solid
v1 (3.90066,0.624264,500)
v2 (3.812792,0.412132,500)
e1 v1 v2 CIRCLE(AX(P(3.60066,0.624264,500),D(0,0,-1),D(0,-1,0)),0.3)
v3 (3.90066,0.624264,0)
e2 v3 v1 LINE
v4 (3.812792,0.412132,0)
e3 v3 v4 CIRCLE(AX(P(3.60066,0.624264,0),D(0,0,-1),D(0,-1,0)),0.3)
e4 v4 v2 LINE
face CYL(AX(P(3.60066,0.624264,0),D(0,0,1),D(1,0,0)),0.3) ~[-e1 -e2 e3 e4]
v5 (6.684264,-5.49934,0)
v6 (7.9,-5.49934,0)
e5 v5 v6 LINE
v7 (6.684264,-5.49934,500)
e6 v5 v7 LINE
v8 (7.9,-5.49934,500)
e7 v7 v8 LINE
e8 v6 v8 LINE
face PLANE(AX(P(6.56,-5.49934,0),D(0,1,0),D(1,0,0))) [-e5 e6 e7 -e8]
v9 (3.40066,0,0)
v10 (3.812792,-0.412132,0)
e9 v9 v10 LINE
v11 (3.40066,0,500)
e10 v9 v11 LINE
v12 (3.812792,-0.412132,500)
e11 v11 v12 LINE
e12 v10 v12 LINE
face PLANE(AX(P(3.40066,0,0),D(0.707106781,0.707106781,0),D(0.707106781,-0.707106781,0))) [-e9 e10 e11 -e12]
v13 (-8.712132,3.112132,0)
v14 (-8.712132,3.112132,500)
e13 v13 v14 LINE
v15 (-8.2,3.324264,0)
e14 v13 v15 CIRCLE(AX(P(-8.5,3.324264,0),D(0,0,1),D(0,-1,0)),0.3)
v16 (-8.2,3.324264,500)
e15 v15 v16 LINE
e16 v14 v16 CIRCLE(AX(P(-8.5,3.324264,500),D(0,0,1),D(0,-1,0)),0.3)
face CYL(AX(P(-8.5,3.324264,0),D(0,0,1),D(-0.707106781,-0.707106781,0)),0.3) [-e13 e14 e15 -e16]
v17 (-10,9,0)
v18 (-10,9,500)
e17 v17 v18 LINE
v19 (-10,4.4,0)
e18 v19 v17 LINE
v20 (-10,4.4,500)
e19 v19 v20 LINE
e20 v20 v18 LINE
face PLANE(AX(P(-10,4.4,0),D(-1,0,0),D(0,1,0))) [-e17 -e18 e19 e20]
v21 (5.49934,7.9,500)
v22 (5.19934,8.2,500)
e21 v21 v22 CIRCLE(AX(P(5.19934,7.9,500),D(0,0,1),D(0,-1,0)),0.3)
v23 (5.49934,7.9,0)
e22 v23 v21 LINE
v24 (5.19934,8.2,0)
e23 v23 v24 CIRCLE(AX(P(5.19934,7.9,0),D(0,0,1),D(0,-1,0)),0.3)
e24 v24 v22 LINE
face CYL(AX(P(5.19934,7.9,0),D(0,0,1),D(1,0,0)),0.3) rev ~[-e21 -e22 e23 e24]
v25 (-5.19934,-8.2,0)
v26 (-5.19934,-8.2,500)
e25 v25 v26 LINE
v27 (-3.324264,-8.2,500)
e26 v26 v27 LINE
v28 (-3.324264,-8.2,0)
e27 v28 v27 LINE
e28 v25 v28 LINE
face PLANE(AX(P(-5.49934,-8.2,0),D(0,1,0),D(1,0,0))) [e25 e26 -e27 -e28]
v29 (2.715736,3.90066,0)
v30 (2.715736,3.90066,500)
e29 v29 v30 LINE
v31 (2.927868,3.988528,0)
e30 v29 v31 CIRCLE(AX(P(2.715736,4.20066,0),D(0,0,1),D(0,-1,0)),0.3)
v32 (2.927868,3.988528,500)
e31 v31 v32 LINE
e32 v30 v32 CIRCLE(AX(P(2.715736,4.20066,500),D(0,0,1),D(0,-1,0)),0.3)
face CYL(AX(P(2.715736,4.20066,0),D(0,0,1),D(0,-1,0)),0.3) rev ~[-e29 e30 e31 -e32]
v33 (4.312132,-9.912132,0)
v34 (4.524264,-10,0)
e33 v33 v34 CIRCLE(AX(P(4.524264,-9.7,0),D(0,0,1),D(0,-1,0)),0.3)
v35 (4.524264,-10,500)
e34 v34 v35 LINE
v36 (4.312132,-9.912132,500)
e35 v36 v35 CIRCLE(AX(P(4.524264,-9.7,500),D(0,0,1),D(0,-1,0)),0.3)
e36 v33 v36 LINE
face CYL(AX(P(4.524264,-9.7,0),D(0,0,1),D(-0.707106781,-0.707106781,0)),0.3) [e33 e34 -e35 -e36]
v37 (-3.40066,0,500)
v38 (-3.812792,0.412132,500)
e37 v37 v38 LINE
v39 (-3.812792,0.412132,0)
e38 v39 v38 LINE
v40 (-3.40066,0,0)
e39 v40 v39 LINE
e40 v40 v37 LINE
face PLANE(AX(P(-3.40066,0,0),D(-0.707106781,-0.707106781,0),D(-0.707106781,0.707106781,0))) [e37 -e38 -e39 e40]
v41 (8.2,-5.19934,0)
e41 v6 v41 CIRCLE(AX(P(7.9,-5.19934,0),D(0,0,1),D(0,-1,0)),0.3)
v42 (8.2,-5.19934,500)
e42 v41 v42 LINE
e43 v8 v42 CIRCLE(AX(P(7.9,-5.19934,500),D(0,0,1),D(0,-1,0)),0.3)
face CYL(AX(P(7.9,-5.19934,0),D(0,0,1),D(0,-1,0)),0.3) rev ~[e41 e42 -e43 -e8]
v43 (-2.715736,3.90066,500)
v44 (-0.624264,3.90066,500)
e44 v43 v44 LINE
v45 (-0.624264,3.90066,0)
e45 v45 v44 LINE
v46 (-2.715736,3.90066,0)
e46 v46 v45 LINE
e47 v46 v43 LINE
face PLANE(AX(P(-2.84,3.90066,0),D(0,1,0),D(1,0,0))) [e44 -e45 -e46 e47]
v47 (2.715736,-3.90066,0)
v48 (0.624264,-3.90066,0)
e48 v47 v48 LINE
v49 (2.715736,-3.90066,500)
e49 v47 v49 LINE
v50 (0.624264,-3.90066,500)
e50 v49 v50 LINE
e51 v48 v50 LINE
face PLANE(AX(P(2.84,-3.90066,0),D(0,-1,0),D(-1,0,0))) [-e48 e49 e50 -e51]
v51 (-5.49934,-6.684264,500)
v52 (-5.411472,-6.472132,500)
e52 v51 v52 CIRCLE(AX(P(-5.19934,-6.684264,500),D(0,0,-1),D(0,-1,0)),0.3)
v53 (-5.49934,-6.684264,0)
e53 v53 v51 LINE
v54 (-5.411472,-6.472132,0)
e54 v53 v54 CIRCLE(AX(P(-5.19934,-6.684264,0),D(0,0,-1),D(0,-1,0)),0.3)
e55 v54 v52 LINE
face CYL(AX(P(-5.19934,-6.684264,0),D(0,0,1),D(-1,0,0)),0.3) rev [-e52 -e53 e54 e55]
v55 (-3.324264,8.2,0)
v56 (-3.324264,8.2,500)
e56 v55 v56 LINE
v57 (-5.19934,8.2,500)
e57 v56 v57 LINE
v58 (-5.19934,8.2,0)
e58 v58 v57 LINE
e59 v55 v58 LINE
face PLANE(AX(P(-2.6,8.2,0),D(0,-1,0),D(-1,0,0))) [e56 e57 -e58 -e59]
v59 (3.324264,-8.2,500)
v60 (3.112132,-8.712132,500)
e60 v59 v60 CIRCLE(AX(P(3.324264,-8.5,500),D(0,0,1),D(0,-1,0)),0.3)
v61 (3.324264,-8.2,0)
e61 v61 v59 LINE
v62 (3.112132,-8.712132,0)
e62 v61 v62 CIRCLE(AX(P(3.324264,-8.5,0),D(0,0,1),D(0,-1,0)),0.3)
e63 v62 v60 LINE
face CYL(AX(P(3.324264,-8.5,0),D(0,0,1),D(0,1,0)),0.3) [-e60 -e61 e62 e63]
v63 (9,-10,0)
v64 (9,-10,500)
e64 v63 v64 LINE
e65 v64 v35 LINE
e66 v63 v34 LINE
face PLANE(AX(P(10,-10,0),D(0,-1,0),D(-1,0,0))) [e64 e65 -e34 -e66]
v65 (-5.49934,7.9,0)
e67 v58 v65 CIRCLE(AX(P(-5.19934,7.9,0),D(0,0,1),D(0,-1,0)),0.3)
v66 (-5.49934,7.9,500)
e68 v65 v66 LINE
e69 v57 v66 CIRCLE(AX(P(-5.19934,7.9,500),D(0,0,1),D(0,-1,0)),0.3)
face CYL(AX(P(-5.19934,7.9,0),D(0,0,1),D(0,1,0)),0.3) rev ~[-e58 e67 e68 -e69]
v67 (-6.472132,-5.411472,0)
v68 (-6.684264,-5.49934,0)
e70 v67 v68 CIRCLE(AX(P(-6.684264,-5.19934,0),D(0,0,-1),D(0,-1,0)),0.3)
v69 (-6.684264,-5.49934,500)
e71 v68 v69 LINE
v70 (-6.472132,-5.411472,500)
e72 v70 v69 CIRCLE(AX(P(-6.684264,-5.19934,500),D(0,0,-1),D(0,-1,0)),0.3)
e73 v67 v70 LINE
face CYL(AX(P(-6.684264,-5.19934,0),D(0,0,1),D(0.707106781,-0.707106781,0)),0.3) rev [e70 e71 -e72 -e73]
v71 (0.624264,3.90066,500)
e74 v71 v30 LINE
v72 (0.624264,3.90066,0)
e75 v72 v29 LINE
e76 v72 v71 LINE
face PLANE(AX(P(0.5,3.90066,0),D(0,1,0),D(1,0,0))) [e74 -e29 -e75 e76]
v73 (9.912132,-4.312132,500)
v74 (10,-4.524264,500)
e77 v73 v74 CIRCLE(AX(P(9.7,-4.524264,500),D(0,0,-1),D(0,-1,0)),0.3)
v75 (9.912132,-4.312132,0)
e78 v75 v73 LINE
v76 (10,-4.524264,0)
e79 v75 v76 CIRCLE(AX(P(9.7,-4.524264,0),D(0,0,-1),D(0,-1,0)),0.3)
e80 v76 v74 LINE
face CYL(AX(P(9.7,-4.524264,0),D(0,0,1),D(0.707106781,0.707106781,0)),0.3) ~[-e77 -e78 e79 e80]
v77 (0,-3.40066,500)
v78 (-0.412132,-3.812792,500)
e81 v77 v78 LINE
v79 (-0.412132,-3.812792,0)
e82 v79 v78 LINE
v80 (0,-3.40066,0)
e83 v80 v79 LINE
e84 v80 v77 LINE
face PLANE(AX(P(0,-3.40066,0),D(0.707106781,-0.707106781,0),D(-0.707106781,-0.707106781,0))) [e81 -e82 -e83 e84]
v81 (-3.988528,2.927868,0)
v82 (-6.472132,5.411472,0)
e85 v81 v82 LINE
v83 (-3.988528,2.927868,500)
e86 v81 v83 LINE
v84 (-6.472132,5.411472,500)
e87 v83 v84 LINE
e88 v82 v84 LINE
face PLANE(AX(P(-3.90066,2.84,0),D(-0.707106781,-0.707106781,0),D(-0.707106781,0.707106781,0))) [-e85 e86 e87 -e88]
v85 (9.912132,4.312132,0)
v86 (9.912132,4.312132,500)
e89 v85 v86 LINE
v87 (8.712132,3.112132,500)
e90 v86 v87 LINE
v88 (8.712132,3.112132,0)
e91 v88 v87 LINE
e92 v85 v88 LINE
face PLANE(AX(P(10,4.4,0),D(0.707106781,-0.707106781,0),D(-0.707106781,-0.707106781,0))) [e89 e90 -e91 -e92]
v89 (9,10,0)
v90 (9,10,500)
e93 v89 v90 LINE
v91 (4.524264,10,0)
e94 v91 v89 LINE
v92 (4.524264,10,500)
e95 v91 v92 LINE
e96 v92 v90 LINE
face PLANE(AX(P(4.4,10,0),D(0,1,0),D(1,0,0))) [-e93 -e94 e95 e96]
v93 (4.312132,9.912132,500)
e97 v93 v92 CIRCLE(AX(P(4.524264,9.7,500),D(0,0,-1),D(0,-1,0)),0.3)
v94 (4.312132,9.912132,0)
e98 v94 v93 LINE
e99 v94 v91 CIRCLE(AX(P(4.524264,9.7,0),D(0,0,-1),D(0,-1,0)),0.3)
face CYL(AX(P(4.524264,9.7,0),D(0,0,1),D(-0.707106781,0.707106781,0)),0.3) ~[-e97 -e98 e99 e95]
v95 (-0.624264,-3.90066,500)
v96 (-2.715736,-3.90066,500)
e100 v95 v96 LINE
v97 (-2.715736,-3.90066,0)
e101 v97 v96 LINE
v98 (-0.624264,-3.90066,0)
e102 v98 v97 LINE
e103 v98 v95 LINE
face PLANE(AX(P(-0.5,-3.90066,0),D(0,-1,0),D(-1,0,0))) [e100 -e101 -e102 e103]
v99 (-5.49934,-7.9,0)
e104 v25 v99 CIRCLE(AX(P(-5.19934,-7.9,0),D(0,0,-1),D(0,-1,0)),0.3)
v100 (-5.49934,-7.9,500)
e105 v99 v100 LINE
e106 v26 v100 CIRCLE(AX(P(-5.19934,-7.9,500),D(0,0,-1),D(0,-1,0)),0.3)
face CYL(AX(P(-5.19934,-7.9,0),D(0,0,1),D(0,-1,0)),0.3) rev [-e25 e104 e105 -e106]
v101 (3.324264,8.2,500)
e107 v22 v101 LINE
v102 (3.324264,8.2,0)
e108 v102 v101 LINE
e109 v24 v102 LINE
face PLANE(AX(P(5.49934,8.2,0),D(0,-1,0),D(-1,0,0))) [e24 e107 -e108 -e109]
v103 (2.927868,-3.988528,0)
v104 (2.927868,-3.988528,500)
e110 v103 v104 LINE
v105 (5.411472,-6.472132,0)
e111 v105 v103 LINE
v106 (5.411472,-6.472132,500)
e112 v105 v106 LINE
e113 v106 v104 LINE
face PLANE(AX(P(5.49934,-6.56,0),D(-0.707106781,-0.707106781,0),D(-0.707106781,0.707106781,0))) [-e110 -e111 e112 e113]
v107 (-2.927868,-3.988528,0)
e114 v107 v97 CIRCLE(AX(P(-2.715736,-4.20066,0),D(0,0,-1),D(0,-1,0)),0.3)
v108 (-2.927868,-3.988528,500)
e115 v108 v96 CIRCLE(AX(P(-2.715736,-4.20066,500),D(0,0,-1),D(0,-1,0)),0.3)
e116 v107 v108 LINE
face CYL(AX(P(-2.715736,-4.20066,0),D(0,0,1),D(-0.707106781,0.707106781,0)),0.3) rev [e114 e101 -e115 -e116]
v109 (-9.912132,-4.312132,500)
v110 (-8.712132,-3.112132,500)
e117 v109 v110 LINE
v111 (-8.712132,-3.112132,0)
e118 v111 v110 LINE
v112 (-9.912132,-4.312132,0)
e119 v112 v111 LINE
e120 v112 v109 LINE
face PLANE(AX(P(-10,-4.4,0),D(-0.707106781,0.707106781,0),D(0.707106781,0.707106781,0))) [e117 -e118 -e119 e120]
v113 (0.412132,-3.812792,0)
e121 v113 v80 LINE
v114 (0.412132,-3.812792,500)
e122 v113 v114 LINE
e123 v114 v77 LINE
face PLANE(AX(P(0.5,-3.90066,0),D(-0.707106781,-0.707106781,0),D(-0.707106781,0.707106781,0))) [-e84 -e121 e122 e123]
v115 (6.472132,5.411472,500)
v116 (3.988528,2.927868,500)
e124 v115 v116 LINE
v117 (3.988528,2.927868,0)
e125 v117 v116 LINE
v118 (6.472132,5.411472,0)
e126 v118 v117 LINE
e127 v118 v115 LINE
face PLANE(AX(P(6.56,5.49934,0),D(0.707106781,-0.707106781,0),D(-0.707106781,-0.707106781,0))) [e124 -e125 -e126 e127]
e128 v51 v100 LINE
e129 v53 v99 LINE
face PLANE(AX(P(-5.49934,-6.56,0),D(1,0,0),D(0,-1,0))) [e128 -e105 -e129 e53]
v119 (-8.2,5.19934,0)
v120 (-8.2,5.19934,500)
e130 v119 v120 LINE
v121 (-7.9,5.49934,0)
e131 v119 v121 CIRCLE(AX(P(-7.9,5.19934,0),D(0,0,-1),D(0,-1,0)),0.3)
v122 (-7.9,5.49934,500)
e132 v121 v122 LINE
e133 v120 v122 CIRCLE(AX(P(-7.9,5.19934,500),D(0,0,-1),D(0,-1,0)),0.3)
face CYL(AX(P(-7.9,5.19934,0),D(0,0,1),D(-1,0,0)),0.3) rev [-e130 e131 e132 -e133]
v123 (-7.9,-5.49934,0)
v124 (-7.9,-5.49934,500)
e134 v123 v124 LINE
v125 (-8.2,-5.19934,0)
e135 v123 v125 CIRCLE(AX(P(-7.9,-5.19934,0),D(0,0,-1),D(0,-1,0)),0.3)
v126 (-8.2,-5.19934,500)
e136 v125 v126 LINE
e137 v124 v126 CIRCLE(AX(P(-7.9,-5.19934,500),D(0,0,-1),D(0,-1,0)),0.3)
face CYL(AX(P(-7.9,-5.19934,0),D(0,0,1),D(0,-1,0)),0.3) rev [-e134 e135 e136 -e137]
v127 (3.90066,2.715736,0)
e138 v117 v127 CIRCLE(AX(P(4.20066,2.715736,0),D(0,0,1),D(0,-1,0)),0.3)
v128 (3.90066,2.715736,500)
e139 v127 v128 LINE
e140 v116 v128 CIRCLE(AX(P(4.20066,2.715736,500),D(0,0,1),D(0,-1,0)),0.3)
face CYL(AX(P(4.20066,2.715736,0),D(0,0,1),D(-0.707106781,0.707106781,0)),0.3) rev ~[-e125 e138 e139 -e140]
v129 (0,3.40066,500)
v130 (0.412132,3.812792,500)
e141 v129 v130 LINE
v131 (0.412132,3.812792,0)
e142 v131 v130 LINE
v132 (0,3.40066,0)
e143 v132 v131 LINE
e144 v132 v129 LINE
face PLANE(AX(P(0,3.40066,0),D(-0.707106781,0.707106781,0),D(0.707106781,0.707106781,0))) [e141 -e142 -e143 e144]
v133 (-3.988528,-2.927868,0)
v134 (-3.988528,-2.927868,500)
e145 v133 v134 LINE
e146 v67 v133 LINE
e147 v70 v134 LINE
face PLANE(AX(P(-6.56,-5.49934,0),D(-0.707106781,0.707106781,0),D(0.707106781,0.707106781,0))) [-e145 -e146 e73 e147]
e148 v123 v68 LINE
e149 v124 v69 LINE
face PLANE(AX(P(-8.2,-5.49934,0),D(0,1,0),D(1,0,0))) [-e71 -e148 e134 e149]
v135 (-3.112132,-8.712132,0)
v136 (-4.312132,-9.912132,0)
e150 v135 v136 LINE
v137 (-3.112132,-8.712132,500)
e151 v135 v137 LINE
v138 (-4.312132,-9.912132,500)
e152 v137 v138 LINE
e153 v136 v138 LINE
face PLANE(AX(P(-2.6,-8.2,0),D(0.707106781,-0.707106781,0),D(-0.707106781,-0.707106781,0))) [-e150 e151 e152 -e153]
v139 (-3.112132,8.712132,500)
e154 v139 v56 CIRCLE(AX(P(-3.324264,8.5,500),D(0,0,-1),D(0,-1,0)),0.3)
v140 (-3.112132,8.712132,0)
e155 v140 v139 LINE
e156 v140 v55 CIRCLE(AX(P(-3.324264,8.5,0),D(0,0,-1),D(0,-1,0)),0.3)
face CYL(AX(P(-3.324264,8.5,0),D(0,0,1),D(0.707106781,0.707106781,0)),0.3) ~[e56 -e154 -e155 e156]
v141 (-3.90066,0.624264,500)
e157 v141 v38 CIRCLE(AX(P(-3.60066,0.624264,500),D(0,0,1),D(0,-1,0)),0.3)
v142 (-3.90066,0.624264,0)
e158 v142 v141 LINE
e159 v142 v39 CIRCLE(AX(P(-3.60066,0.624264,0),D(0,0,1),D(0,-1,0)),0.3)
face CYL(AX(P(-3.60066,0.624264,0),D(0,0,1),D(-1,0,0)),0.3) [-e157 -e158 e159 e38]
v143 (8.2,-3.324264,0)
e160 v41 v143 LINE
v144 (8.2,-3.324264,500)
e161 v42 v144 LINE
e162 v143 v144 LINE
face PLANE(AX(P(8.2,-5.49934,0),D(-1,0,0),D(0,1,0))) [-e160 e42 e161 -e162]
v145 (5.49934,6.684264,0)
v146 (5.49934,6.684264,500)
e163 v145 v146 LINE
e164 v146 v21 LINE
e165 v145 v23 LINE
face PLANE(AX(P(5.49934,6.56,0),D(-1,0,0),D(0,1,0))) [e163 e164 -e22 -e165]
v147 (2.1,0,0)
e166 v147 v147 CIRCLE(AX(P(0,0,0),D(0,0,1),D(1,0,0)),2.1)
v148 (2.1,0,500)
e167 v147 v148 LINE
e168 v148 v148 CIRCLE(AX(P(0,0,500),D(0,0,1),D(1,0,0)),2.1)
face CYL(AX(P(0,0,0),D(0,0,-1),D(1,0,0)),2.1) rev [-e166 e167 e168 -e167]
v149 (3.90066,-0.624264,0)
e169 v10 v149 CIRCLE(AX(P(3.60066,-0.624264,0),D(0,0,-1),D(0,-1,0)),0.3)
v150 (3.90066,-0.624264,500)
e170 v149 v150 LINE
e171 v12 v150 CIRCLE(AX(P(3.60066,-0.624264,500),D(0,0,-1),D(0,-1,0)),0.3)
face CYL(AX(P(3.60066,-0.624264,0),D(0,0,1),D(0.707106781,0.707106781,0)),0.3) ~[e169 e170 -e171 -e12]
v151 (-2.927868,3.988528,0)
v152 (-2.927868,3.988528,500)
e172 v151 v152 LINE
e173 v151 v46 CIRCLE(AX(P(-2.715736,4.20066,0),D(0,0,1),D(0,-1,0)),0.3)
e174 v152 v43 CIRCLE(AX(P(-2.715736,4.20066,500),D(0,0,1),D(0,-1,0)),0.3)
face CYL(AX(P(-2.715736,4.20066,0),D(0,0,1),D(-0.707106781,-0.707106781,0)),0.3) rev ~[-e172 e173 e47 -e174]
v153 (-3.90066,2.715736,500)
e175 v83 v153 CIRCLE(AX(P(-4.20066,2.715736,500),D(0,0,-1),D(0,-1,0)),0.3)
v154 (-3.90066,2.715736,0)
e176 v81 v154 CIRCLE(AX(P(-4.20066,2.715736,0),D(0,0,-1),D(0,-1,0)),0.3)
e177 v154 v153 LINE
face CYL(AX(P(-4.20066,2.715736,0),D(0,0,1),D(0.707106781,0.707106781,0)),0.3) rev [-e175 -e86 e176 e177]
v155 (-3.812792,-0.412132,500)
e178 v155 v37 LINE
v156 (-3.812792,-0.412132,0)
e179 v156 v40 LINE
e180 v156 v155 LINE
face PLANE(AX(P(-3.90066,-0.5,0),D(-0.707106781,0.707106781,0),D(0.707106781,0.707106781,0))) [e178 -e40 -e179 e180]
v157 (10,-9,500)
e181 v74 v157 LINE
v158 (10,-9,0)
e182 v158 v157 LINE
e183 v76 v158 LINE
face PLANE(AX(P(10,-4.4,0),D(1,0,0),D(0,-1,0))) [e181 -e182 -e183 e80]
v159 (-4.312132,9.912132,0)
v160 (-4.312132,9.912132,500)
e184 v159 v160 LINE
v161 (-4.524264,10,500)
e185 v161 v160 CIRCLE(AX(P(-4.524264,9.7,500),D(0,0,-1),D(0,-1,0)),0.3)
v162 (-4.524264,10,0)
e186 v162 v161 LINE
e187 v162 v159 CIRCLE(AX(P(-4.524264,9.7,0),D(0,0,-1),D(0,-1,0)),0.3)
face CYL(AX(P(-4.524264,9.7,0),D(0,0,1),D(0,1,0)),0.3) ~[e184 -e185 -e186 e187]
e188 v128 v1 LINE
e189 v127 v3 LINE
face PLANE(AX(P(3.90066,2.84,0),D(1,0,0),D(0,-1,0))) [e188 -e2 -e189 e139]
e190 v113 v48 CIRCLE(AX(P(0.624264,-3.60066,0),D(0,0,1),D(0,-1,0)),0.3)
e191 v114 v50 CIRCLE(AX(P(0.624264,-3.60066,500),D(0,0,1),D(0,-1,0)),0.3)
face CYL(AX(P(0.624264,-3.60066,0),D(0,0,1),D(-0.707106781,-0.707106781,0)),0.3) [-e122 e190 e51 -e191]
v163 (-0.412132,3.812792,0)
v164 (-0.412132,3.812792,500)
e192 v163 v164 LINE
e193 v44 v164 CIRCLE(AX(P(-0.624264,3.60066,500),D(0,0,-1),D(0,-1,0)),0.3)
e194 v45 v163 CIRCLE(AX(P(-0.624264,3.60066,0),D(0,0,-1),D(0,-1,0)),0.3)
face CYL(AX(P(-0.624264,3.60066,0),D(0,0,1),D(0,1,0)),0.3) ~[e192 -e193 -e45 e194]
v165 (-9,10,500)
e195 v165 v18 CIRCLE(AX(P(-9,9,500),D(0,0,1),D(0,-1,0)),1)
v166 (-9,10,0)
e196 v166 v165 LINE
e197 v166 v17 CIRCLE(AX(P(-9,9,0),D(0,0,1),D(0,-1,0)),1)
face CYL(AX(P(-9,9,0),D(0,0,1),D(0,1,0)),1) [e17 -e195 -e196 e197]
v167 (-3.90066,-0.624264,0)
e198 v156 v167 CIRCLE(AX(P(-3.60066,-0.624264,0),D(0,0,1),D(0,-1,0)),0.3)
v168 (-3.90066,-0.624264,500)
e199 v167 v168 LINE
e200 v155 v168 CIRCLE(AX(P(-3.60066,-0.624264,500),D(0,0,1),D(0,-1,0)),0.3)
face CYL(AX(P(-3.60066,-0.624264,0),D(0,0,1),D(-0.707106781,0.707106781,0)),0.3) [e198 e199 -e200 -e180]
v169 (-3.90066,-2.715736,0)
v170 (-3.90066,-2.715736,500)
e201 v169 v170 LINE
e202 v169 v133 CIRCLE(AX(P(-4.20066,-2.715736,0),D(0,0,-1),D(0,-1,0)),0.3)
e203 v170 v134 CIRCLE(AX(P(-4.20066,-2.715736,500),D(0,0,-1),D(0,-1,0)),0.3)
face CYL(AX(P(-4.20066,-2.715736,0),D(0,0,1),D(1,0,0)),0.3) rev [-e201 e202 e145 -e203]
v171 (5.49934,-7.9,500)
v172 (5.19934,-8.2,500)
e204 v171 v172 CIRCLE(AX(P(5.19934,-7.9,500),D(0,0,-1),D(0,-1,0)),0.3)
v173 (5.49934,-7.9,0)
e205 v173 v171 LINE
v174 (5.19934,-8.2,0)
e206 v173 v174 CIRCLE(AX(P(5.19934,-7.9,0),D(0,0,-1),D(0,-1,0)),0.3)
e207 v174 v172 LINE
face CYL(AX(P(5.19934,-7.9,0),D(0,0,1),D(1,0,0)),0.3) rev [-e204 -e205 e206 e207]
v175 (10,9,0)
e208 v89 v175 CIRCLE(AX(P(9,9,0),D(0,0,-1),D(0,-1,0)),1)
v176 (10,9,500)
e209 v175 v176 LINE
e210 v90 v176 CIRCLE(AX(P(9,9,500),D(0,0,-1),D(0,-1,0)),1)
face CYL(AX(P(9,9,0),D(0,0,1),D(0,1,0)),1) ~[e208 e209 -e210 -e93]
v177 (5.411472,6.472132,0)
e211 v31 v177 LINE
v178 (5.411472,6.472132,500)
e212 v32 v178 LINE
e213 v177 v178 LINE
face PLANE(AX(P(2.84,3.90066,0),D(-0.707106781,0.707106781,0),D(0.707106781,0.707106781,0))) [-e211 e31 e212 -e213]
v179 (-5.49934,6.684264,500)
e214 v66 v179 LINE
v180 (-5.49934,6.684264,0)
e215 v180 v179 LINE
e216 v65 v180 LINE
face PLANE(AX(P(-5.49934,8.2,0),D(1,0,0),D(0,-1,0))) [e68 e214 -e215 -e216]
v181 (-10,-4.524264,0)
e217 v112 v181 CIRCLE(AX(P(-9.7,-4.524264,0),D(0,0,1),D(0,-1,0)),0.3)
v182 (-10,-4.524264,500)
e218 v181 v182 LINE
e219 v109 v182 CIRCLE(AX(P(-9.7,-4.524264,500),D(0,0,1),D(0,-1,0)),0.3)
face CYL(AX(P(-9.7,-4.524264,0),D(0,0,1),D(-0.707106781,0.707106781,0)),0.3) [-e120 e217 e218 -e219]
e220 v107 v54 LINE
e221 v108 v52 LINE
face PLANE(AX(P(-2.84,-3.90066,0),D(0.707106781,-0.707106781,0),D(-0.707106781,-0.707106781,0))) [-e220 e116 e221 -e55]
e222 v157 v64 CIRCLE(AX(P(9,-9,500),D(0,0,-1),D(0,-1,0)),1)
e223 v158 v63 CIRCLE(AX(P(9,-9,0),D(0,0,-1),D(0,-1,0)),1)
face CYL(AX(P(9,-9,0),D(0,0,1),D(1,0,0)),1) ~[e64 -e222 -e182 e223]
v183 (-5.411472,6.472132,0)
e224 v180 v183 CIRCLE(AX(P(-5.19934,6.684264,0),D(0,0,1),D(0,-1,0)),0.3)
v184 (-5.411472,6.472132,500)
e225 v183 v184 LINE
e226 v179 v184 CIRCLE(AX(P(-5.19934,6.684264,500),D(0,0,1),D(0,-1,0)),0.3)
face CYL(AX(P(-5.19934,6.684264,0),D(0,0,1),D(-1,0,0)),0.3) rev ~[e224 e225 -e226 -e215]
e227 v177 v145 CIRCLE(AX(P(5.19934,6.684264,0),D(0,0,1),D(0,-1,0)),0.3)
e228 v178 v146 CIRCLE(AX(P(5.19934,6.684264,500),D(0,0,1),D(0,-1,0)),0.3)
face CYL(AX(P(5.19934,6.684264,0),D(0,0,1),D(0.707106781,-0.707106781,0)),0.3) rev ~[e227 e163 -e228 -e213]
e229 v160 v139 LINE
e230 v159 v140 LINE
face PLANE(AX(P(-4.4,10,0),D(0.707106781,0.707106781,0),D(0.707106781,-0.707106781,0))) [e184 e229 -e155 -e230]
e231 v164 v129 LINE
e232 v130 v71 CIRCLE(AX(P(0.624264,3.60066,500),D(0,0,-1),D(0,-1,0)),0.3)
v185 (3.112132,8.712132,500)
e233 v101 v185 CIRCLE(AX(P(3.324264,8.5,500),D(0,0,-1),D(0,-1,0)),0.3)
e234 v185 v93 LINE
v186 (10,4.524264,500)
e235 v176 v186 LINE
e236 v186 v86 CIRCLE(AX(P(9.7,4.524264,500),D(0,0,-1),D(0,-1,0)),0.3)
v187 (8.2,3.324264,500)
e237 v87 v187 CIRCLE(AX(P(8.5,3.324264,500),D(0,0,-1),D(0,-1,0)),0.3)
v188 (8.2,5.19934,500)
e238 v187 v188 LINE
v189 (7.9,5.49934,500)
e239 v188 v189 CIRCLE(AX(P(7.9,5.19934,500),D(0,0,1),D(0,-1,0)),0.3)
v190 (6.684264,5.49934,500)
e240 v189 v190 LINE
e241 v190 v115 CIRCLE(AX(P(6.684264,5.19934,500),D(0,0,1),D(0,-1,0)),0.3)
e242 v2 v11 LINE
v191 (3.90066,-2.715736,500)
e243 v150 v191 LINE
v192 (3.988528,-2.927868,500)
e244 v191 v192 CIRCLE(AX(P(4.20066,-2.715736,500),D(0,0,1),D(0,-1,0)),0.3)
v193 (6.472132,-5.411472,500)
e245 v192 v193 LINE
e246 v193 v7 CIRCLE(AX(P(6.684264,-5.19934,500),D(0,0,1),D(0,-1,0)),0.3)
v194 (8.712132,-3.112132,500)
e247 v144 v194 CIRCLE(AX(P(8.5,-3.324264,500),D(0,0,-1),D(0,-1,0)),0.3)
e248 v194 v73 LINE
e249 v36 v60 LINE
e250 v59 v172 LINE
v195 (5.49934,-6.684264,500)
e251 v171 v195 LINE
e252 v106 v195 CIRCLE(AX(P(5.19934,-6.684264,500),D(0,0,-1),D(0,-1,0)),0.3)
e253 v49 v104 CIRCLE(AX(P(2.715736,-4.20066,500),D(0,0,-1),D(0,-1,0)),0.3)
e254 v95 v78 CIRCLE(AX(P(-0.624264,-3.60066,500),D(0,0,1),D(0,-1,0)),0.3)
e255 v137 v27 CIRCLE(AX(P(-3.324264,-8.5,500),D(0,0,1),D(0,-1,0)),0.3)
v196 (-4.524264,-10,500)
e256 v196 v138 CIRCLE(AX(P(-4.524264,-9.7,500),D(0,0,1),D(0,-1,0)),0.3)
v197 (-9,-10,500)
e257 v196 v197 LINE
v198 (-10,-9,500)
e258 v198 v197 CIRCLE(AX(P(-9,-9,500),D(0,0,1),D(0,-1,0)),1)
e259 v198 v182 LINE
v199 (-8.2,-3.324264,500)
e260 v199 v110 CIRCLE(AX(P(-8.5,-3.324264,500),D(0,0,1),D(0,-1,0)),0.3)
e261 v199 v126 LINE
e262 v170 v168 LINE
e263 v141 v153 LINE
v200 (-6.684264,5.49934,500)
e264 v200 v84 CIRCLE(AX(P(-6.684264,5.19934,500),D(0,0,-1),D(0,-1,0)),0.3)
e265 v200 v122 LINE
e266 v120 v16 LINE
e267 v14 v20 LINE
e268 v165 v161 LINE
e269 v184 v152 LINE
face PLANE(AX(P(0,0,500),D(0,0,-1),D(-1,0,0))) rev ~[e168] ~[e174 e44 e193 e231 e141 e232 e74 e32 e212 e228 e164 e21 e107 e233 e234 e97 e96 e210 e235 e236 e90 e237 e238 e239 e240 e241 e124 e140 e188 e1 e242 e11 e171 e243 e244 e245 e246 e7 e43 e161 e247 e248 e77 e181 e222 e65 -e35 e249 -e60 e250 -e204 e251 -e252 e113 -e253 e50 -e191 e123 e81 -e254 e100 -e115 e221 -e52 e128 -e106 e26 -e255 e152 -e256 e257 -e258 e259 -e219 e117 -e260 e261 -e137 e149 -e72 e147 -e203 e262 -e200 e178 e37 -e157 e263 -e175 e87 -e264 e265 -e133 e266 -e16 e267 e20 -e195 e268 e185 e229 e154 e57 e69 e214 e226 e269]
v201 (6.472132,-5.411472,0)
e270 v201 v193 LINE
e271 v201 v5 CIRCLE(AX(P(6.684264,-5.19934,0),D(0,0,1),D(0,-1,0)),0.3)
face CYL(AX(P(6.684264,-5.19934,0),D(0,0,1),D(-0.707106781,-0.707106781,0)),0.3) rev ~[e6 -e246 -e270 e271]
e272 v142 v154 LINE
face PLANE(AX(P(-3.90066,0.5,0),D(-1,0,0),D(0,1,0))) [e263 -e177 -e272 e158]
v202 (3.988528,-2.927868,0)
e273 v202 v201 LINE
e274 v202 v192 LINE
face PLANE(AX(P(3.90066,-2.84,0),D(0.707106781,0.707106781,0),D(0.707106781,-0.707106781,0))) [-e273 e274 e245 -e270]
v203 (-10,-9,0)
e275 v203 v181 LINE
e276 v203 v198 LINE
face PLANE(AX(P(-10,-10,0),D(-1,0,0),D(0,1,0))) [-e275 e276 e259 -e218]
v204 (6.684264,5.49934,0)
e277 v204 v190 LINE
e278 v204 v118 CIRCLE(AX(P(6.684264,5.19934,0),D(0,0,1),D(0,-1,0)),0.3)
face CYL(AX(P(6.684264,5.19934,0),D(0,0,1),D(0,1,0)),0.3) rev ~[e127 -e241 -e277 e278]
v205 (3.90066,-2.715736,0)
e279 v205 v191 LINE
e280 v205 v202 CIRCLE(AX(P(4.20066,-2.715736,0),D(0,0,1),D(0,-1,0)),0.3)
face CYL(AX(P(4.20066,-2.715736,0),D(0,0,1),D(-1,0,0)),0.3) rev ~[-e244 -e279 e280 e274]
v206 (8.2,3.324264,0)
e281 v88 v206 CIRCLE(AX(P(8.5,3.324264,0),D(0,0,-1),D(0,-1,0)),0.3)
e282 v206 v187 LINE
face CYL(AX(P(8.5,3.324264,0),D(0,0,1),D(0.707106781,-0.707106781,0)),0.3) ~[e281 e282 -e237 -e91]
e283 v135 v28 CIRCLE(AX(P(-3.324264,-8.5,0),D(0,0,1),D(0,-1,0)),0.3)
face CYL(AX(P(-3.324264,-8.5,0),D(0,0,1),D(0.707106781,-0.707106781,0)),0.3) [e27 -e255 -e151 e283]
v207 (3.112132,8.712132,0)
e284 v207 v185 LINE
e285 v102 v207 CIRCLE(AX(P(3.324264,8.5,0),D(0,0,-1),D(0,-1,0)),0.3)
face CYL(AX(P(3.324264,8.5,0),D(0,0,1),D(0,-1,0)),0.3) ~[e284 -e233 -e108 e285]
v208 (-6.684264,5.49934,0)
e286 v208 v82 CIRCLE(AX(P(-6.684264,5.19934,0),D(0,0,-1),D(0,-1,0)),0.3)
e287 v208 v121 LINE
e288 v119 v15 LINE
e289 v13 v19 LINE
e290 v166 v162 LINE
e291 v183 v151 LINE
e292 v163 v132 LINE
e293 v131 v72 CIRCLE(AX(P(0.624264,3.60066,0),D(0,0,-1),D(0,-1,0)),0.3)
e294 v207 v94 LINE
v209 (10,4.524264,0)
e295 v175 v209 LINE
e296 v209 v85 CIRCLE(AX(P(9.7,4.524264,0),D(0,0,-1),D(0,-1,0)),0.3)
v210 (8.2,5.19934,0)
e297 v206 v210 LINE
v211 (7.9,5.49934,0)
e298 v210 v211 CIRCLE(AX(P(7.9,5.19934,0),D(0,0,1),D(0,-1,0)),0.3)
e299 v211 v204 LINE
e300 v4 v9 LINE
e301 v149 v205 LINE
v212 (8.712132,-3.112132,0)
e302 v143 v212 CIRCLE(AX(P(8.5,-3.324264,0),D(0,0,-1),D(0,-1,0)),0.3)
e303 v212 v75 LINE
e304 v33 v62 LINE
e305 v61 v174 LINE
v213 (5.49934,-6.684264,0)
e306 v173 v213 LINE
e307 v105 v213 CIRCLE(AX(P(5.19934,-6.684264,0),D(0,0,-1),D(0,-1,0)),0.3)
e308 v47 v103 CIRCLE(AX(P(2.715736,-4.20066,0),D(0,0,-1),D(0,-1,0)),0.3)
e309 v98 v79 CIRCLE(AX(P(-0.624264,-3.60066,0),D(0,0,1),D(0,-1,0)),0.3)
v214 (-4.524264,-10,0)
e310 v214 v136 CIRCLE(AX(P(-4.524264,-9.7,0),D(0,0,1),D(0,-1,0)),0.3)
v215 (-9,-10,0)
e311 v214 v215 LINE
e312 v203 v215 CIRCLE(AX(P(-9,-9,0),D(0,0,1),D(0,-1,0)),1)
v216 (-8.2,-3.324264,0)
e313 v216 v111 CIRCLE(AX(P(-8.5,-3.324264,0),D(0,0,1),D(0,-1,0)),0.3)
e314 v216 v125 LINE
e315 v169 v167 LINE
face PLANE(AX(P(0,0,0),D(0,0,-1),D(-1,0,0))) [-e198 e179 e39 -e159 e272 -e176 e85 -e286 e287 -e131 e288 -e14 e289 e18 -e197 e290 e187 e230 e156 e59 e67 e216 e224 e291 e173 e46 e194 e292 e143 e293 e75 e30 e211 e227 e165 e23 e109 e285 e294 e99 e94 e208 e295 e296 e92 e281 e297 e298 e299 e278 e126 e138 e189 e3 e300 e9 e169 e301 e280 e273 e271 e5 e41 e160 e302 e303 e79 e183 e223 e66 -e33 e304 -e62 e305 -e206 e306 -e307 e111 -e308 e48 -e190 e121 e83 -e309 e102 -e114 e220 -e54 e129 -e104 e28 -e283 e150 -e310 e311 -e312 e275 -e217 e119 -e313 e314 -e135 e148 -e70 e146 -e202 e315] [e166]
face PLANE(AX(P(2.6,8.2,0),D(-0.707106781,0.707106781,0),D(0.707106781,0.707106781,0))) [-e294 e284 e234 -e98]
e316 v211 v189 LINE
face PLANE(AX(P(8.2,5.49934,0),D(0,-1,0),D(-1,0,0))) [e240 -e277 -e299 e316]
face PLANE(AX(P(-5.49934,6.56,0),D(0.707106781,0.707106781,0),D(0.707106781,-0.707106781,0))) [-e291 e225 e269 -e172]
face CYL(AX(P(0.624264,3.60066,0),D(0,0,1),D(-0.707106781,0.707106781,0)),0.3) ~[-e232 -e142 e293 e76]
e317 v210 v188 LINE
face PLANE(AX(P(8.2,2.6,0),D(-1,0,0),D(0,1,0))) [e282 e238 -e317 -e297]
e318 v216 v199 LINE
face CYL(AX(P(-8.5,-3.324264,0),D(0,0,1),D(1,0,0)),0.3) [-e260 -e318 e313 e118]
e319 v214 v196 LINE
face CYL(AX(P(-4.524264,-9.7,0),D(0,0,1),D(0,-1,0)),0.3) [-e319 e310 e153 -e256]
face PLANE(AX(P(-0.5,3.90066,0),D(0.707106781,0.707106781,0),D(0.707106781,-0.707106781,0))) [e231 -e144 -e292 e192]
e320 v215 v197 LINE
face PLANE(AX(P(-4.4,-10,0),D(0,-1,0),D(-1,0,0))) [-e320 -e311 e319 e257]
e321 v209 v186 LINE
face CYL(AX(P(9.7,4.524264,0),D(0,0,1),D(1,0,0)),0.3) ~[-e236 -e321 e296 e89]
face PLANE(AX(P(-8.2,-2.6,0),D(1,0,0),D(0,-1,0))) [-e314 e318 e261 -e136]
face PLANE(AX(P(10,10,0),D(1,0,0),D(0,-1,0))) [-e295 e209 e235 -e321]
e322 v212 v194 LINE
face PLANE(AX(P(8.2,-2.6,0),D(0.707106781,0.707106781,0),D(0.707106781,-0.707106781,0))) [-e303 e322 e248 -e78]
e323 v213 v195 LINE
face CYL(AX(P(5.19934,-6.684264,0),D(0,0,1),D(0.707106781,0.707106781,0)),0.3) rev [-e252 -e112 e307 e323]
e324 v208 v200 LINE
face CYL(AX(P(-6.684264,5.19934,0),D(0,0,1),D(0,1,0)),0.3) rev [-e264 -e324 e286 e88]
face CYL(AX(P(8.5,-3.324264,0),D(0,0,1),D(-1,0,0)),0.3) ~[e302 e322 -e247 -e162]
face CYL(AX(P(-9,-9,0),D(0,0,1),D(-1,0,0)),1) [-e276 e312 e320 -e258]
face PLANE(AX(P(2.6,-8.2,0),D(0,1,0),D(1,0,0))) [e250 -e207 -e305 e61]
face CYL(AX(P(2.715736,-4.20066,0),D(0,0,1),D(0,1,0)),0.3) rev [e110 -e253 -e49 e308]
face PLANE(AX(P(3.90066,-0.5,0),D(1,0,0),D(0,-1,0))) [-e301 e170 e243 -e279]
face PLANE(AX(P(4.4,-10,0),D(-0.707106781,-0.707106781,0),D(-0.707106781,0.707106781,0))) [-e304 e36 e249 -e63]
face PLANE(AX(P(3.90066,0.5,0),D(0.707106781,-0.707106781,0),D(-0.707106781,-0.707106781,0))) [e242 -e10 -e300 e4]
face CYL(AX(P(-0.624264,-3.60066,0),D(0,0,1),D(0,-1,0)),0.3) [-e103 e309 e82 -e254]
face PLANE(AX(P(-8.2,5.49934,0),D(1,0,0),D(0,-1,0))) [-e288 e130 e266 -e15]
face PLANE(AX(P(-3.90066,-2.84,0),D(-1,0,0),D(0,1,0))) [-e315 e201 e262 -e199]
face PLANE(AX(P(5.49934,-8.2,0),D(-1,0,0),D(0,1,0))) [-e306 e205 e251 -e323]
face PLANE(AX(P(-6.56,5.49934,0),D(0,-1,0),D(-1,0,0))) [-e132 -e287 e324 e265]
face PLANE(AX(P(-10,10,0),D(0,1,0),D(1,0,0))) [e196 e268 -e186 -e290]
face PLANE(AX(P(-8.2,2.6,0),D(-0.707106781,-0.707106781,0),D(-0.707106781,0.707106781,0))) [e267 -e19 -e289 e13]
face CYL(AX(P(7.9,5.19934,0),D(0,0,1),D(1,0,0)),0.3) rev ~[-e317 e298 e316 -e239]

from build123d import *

# Parameters (mm, degrees)
SKETCH_1_R      = 2.1
EXTRUDE_1_DEPTH = 500
FILLET_1_R      = 1
FILLET_2_R      = 0.3


with BuildPart() as part:
    # Эскиз1 → Бобышка-Вытянуть1 (new body)
    with BuildSketch(Plane.XY):
        Polygon((-10, 10), (-4.4, 10), (-2.6, 8.2), (-5.499339828, 8.2), (-5.499339828, 6.56), (-2.84, 3.900660172), (-0.5, 3.900660172), (0, 3.400660172), (0.5, 3.900660172), (2.84, 3.900660172), (5.499339828, 6.56), (5.499339828, 8.2), (2.6, 8.2), (4.4, 10), (10, 10), (10, 4.4), (8.2, 2.6), (8.2, 5.499339828), (6.56, 5.499339828), (3.900660172, 2.84), (3.900660172, 0.5), (3.400660172, 0), (3.900660172, -0.5), (3.900660172, -2.84), (6.56, -5.499339828), (8.2, -5.499339828), (8.2, -2.6), (10, -4.4), (10, -10), (4.4, -10), (2.6, -8.2), (5.499339828, -8.2), (5.499339828, -6.56), (2.84, -3.900660172), (0.5, -3.900660172), (0, -3.400660172), (-0.5, -3.900660172), (-2.84, -3.900660172), (-5.499339828, -6.56), (-5.499339828, -8.2), (-2.6, -8.2), (-4.4, -10), (-10, -10), (-10, -4.4), (-8.2, -2.6), (-8.2, -5.499339828), (-6.56, -5.499339828), (-3.900660172, -2.84), (-3.900660172, -0.5), (-3.400660172, 0), (-3.900660172, 0.5), (-3.900660172, 2.84), (-6.56, 5.499339828), (-8.2, 5.499339828), (-8.2, 2.6), (-10, 4.4), align=None)
        Circle(SKETCH_1_R, mode=Mode.SUBTRACT)
    extrude(amount=EXTRUDE_1_DEPTH)

    # Скругление1
    fillet_1_edges = [part.edges().sort_by_distance(p)[0] for p in [
        (-10, 10, 250),
        (10, 10, 250),
        (10, -10, 250),
        (-10, -10, 250),
    ]]
    fillet(fillet_1_edges, radius=FILLET_1_R)

    # Скругление2
    fillet_2_edges = [part.edges().sort_by_distance(p)[0] for p in [
        (-4.4, 10, 250),
        (-2.6, 8.2, 250),
        (-5.499339828, 8.2, 250),
        (-5.499339828, 6.56, 250),
        (-2.84, 3.900660172, 250),
        (-0.5, 3.900660172, 250),
        (0.5, 3.900660172, 250),
        (2.84, 3.900660172, 250),
        (5.499339828, 6.56, 250),
        (5.499339828, 8.2, 250),
        (2.6, 8.2, 250),
        (4.4, 10, 250),
        (10, 4.4, 250),
        (8.2, 2.6, 250),
        (8.2, 5.499339828, 250),
        (6.56, 5.499339828, 250),
        (3.900660172, 2.84, 250),
        (3.900660172, 0.5, 250),
        (3.900660172, -0.5, 250),
        (3.900660172, -2.84, 250),
        (6.56, -5.499339828, 250),
        (8.2, -5.499339828, 250),
        (8.2, -2.6, 250),
        (10, -4.4, 250),
        (4.4, -10, 250),
        (2.6, -8.2, 250),
        (5.499339828, -8.2, 250),
        (5.499339828, -6.56, 250),
        (2.84, -3.900660172, 250),
        (0.5, -3.900660172, 250),
        (-0.5, -3.900660172, 250),
        (-2.84, -3.900660172, 250),
        (-5.499339828, -6.56, 250),
        (-5.499339828, -8.2, 250),
        (-2.6, -8.2, 250),
        (-4.4, -10, 250),
        (-10, -4.4, 250),
        (-8.2, -2.6, 250),
        (-8.2, -5.499339828, 250),
        (-6.56, -5.499339828, 250),
        (-3.900660172, -2.84, 250),
        (-3.900660172, -0.5, 250),
        (-3.900660172, 0.5, 250),
        (-3.900660172, 2.84, 250),
        (-6.56, 5.499339828, 250),
        (-8.2, 5.499339828, 250),
        (-8.2, 2.6, 250),
    ]]
    fillet(fillet_2_edges, radius=FILLET_2_R)


solid = part.part
